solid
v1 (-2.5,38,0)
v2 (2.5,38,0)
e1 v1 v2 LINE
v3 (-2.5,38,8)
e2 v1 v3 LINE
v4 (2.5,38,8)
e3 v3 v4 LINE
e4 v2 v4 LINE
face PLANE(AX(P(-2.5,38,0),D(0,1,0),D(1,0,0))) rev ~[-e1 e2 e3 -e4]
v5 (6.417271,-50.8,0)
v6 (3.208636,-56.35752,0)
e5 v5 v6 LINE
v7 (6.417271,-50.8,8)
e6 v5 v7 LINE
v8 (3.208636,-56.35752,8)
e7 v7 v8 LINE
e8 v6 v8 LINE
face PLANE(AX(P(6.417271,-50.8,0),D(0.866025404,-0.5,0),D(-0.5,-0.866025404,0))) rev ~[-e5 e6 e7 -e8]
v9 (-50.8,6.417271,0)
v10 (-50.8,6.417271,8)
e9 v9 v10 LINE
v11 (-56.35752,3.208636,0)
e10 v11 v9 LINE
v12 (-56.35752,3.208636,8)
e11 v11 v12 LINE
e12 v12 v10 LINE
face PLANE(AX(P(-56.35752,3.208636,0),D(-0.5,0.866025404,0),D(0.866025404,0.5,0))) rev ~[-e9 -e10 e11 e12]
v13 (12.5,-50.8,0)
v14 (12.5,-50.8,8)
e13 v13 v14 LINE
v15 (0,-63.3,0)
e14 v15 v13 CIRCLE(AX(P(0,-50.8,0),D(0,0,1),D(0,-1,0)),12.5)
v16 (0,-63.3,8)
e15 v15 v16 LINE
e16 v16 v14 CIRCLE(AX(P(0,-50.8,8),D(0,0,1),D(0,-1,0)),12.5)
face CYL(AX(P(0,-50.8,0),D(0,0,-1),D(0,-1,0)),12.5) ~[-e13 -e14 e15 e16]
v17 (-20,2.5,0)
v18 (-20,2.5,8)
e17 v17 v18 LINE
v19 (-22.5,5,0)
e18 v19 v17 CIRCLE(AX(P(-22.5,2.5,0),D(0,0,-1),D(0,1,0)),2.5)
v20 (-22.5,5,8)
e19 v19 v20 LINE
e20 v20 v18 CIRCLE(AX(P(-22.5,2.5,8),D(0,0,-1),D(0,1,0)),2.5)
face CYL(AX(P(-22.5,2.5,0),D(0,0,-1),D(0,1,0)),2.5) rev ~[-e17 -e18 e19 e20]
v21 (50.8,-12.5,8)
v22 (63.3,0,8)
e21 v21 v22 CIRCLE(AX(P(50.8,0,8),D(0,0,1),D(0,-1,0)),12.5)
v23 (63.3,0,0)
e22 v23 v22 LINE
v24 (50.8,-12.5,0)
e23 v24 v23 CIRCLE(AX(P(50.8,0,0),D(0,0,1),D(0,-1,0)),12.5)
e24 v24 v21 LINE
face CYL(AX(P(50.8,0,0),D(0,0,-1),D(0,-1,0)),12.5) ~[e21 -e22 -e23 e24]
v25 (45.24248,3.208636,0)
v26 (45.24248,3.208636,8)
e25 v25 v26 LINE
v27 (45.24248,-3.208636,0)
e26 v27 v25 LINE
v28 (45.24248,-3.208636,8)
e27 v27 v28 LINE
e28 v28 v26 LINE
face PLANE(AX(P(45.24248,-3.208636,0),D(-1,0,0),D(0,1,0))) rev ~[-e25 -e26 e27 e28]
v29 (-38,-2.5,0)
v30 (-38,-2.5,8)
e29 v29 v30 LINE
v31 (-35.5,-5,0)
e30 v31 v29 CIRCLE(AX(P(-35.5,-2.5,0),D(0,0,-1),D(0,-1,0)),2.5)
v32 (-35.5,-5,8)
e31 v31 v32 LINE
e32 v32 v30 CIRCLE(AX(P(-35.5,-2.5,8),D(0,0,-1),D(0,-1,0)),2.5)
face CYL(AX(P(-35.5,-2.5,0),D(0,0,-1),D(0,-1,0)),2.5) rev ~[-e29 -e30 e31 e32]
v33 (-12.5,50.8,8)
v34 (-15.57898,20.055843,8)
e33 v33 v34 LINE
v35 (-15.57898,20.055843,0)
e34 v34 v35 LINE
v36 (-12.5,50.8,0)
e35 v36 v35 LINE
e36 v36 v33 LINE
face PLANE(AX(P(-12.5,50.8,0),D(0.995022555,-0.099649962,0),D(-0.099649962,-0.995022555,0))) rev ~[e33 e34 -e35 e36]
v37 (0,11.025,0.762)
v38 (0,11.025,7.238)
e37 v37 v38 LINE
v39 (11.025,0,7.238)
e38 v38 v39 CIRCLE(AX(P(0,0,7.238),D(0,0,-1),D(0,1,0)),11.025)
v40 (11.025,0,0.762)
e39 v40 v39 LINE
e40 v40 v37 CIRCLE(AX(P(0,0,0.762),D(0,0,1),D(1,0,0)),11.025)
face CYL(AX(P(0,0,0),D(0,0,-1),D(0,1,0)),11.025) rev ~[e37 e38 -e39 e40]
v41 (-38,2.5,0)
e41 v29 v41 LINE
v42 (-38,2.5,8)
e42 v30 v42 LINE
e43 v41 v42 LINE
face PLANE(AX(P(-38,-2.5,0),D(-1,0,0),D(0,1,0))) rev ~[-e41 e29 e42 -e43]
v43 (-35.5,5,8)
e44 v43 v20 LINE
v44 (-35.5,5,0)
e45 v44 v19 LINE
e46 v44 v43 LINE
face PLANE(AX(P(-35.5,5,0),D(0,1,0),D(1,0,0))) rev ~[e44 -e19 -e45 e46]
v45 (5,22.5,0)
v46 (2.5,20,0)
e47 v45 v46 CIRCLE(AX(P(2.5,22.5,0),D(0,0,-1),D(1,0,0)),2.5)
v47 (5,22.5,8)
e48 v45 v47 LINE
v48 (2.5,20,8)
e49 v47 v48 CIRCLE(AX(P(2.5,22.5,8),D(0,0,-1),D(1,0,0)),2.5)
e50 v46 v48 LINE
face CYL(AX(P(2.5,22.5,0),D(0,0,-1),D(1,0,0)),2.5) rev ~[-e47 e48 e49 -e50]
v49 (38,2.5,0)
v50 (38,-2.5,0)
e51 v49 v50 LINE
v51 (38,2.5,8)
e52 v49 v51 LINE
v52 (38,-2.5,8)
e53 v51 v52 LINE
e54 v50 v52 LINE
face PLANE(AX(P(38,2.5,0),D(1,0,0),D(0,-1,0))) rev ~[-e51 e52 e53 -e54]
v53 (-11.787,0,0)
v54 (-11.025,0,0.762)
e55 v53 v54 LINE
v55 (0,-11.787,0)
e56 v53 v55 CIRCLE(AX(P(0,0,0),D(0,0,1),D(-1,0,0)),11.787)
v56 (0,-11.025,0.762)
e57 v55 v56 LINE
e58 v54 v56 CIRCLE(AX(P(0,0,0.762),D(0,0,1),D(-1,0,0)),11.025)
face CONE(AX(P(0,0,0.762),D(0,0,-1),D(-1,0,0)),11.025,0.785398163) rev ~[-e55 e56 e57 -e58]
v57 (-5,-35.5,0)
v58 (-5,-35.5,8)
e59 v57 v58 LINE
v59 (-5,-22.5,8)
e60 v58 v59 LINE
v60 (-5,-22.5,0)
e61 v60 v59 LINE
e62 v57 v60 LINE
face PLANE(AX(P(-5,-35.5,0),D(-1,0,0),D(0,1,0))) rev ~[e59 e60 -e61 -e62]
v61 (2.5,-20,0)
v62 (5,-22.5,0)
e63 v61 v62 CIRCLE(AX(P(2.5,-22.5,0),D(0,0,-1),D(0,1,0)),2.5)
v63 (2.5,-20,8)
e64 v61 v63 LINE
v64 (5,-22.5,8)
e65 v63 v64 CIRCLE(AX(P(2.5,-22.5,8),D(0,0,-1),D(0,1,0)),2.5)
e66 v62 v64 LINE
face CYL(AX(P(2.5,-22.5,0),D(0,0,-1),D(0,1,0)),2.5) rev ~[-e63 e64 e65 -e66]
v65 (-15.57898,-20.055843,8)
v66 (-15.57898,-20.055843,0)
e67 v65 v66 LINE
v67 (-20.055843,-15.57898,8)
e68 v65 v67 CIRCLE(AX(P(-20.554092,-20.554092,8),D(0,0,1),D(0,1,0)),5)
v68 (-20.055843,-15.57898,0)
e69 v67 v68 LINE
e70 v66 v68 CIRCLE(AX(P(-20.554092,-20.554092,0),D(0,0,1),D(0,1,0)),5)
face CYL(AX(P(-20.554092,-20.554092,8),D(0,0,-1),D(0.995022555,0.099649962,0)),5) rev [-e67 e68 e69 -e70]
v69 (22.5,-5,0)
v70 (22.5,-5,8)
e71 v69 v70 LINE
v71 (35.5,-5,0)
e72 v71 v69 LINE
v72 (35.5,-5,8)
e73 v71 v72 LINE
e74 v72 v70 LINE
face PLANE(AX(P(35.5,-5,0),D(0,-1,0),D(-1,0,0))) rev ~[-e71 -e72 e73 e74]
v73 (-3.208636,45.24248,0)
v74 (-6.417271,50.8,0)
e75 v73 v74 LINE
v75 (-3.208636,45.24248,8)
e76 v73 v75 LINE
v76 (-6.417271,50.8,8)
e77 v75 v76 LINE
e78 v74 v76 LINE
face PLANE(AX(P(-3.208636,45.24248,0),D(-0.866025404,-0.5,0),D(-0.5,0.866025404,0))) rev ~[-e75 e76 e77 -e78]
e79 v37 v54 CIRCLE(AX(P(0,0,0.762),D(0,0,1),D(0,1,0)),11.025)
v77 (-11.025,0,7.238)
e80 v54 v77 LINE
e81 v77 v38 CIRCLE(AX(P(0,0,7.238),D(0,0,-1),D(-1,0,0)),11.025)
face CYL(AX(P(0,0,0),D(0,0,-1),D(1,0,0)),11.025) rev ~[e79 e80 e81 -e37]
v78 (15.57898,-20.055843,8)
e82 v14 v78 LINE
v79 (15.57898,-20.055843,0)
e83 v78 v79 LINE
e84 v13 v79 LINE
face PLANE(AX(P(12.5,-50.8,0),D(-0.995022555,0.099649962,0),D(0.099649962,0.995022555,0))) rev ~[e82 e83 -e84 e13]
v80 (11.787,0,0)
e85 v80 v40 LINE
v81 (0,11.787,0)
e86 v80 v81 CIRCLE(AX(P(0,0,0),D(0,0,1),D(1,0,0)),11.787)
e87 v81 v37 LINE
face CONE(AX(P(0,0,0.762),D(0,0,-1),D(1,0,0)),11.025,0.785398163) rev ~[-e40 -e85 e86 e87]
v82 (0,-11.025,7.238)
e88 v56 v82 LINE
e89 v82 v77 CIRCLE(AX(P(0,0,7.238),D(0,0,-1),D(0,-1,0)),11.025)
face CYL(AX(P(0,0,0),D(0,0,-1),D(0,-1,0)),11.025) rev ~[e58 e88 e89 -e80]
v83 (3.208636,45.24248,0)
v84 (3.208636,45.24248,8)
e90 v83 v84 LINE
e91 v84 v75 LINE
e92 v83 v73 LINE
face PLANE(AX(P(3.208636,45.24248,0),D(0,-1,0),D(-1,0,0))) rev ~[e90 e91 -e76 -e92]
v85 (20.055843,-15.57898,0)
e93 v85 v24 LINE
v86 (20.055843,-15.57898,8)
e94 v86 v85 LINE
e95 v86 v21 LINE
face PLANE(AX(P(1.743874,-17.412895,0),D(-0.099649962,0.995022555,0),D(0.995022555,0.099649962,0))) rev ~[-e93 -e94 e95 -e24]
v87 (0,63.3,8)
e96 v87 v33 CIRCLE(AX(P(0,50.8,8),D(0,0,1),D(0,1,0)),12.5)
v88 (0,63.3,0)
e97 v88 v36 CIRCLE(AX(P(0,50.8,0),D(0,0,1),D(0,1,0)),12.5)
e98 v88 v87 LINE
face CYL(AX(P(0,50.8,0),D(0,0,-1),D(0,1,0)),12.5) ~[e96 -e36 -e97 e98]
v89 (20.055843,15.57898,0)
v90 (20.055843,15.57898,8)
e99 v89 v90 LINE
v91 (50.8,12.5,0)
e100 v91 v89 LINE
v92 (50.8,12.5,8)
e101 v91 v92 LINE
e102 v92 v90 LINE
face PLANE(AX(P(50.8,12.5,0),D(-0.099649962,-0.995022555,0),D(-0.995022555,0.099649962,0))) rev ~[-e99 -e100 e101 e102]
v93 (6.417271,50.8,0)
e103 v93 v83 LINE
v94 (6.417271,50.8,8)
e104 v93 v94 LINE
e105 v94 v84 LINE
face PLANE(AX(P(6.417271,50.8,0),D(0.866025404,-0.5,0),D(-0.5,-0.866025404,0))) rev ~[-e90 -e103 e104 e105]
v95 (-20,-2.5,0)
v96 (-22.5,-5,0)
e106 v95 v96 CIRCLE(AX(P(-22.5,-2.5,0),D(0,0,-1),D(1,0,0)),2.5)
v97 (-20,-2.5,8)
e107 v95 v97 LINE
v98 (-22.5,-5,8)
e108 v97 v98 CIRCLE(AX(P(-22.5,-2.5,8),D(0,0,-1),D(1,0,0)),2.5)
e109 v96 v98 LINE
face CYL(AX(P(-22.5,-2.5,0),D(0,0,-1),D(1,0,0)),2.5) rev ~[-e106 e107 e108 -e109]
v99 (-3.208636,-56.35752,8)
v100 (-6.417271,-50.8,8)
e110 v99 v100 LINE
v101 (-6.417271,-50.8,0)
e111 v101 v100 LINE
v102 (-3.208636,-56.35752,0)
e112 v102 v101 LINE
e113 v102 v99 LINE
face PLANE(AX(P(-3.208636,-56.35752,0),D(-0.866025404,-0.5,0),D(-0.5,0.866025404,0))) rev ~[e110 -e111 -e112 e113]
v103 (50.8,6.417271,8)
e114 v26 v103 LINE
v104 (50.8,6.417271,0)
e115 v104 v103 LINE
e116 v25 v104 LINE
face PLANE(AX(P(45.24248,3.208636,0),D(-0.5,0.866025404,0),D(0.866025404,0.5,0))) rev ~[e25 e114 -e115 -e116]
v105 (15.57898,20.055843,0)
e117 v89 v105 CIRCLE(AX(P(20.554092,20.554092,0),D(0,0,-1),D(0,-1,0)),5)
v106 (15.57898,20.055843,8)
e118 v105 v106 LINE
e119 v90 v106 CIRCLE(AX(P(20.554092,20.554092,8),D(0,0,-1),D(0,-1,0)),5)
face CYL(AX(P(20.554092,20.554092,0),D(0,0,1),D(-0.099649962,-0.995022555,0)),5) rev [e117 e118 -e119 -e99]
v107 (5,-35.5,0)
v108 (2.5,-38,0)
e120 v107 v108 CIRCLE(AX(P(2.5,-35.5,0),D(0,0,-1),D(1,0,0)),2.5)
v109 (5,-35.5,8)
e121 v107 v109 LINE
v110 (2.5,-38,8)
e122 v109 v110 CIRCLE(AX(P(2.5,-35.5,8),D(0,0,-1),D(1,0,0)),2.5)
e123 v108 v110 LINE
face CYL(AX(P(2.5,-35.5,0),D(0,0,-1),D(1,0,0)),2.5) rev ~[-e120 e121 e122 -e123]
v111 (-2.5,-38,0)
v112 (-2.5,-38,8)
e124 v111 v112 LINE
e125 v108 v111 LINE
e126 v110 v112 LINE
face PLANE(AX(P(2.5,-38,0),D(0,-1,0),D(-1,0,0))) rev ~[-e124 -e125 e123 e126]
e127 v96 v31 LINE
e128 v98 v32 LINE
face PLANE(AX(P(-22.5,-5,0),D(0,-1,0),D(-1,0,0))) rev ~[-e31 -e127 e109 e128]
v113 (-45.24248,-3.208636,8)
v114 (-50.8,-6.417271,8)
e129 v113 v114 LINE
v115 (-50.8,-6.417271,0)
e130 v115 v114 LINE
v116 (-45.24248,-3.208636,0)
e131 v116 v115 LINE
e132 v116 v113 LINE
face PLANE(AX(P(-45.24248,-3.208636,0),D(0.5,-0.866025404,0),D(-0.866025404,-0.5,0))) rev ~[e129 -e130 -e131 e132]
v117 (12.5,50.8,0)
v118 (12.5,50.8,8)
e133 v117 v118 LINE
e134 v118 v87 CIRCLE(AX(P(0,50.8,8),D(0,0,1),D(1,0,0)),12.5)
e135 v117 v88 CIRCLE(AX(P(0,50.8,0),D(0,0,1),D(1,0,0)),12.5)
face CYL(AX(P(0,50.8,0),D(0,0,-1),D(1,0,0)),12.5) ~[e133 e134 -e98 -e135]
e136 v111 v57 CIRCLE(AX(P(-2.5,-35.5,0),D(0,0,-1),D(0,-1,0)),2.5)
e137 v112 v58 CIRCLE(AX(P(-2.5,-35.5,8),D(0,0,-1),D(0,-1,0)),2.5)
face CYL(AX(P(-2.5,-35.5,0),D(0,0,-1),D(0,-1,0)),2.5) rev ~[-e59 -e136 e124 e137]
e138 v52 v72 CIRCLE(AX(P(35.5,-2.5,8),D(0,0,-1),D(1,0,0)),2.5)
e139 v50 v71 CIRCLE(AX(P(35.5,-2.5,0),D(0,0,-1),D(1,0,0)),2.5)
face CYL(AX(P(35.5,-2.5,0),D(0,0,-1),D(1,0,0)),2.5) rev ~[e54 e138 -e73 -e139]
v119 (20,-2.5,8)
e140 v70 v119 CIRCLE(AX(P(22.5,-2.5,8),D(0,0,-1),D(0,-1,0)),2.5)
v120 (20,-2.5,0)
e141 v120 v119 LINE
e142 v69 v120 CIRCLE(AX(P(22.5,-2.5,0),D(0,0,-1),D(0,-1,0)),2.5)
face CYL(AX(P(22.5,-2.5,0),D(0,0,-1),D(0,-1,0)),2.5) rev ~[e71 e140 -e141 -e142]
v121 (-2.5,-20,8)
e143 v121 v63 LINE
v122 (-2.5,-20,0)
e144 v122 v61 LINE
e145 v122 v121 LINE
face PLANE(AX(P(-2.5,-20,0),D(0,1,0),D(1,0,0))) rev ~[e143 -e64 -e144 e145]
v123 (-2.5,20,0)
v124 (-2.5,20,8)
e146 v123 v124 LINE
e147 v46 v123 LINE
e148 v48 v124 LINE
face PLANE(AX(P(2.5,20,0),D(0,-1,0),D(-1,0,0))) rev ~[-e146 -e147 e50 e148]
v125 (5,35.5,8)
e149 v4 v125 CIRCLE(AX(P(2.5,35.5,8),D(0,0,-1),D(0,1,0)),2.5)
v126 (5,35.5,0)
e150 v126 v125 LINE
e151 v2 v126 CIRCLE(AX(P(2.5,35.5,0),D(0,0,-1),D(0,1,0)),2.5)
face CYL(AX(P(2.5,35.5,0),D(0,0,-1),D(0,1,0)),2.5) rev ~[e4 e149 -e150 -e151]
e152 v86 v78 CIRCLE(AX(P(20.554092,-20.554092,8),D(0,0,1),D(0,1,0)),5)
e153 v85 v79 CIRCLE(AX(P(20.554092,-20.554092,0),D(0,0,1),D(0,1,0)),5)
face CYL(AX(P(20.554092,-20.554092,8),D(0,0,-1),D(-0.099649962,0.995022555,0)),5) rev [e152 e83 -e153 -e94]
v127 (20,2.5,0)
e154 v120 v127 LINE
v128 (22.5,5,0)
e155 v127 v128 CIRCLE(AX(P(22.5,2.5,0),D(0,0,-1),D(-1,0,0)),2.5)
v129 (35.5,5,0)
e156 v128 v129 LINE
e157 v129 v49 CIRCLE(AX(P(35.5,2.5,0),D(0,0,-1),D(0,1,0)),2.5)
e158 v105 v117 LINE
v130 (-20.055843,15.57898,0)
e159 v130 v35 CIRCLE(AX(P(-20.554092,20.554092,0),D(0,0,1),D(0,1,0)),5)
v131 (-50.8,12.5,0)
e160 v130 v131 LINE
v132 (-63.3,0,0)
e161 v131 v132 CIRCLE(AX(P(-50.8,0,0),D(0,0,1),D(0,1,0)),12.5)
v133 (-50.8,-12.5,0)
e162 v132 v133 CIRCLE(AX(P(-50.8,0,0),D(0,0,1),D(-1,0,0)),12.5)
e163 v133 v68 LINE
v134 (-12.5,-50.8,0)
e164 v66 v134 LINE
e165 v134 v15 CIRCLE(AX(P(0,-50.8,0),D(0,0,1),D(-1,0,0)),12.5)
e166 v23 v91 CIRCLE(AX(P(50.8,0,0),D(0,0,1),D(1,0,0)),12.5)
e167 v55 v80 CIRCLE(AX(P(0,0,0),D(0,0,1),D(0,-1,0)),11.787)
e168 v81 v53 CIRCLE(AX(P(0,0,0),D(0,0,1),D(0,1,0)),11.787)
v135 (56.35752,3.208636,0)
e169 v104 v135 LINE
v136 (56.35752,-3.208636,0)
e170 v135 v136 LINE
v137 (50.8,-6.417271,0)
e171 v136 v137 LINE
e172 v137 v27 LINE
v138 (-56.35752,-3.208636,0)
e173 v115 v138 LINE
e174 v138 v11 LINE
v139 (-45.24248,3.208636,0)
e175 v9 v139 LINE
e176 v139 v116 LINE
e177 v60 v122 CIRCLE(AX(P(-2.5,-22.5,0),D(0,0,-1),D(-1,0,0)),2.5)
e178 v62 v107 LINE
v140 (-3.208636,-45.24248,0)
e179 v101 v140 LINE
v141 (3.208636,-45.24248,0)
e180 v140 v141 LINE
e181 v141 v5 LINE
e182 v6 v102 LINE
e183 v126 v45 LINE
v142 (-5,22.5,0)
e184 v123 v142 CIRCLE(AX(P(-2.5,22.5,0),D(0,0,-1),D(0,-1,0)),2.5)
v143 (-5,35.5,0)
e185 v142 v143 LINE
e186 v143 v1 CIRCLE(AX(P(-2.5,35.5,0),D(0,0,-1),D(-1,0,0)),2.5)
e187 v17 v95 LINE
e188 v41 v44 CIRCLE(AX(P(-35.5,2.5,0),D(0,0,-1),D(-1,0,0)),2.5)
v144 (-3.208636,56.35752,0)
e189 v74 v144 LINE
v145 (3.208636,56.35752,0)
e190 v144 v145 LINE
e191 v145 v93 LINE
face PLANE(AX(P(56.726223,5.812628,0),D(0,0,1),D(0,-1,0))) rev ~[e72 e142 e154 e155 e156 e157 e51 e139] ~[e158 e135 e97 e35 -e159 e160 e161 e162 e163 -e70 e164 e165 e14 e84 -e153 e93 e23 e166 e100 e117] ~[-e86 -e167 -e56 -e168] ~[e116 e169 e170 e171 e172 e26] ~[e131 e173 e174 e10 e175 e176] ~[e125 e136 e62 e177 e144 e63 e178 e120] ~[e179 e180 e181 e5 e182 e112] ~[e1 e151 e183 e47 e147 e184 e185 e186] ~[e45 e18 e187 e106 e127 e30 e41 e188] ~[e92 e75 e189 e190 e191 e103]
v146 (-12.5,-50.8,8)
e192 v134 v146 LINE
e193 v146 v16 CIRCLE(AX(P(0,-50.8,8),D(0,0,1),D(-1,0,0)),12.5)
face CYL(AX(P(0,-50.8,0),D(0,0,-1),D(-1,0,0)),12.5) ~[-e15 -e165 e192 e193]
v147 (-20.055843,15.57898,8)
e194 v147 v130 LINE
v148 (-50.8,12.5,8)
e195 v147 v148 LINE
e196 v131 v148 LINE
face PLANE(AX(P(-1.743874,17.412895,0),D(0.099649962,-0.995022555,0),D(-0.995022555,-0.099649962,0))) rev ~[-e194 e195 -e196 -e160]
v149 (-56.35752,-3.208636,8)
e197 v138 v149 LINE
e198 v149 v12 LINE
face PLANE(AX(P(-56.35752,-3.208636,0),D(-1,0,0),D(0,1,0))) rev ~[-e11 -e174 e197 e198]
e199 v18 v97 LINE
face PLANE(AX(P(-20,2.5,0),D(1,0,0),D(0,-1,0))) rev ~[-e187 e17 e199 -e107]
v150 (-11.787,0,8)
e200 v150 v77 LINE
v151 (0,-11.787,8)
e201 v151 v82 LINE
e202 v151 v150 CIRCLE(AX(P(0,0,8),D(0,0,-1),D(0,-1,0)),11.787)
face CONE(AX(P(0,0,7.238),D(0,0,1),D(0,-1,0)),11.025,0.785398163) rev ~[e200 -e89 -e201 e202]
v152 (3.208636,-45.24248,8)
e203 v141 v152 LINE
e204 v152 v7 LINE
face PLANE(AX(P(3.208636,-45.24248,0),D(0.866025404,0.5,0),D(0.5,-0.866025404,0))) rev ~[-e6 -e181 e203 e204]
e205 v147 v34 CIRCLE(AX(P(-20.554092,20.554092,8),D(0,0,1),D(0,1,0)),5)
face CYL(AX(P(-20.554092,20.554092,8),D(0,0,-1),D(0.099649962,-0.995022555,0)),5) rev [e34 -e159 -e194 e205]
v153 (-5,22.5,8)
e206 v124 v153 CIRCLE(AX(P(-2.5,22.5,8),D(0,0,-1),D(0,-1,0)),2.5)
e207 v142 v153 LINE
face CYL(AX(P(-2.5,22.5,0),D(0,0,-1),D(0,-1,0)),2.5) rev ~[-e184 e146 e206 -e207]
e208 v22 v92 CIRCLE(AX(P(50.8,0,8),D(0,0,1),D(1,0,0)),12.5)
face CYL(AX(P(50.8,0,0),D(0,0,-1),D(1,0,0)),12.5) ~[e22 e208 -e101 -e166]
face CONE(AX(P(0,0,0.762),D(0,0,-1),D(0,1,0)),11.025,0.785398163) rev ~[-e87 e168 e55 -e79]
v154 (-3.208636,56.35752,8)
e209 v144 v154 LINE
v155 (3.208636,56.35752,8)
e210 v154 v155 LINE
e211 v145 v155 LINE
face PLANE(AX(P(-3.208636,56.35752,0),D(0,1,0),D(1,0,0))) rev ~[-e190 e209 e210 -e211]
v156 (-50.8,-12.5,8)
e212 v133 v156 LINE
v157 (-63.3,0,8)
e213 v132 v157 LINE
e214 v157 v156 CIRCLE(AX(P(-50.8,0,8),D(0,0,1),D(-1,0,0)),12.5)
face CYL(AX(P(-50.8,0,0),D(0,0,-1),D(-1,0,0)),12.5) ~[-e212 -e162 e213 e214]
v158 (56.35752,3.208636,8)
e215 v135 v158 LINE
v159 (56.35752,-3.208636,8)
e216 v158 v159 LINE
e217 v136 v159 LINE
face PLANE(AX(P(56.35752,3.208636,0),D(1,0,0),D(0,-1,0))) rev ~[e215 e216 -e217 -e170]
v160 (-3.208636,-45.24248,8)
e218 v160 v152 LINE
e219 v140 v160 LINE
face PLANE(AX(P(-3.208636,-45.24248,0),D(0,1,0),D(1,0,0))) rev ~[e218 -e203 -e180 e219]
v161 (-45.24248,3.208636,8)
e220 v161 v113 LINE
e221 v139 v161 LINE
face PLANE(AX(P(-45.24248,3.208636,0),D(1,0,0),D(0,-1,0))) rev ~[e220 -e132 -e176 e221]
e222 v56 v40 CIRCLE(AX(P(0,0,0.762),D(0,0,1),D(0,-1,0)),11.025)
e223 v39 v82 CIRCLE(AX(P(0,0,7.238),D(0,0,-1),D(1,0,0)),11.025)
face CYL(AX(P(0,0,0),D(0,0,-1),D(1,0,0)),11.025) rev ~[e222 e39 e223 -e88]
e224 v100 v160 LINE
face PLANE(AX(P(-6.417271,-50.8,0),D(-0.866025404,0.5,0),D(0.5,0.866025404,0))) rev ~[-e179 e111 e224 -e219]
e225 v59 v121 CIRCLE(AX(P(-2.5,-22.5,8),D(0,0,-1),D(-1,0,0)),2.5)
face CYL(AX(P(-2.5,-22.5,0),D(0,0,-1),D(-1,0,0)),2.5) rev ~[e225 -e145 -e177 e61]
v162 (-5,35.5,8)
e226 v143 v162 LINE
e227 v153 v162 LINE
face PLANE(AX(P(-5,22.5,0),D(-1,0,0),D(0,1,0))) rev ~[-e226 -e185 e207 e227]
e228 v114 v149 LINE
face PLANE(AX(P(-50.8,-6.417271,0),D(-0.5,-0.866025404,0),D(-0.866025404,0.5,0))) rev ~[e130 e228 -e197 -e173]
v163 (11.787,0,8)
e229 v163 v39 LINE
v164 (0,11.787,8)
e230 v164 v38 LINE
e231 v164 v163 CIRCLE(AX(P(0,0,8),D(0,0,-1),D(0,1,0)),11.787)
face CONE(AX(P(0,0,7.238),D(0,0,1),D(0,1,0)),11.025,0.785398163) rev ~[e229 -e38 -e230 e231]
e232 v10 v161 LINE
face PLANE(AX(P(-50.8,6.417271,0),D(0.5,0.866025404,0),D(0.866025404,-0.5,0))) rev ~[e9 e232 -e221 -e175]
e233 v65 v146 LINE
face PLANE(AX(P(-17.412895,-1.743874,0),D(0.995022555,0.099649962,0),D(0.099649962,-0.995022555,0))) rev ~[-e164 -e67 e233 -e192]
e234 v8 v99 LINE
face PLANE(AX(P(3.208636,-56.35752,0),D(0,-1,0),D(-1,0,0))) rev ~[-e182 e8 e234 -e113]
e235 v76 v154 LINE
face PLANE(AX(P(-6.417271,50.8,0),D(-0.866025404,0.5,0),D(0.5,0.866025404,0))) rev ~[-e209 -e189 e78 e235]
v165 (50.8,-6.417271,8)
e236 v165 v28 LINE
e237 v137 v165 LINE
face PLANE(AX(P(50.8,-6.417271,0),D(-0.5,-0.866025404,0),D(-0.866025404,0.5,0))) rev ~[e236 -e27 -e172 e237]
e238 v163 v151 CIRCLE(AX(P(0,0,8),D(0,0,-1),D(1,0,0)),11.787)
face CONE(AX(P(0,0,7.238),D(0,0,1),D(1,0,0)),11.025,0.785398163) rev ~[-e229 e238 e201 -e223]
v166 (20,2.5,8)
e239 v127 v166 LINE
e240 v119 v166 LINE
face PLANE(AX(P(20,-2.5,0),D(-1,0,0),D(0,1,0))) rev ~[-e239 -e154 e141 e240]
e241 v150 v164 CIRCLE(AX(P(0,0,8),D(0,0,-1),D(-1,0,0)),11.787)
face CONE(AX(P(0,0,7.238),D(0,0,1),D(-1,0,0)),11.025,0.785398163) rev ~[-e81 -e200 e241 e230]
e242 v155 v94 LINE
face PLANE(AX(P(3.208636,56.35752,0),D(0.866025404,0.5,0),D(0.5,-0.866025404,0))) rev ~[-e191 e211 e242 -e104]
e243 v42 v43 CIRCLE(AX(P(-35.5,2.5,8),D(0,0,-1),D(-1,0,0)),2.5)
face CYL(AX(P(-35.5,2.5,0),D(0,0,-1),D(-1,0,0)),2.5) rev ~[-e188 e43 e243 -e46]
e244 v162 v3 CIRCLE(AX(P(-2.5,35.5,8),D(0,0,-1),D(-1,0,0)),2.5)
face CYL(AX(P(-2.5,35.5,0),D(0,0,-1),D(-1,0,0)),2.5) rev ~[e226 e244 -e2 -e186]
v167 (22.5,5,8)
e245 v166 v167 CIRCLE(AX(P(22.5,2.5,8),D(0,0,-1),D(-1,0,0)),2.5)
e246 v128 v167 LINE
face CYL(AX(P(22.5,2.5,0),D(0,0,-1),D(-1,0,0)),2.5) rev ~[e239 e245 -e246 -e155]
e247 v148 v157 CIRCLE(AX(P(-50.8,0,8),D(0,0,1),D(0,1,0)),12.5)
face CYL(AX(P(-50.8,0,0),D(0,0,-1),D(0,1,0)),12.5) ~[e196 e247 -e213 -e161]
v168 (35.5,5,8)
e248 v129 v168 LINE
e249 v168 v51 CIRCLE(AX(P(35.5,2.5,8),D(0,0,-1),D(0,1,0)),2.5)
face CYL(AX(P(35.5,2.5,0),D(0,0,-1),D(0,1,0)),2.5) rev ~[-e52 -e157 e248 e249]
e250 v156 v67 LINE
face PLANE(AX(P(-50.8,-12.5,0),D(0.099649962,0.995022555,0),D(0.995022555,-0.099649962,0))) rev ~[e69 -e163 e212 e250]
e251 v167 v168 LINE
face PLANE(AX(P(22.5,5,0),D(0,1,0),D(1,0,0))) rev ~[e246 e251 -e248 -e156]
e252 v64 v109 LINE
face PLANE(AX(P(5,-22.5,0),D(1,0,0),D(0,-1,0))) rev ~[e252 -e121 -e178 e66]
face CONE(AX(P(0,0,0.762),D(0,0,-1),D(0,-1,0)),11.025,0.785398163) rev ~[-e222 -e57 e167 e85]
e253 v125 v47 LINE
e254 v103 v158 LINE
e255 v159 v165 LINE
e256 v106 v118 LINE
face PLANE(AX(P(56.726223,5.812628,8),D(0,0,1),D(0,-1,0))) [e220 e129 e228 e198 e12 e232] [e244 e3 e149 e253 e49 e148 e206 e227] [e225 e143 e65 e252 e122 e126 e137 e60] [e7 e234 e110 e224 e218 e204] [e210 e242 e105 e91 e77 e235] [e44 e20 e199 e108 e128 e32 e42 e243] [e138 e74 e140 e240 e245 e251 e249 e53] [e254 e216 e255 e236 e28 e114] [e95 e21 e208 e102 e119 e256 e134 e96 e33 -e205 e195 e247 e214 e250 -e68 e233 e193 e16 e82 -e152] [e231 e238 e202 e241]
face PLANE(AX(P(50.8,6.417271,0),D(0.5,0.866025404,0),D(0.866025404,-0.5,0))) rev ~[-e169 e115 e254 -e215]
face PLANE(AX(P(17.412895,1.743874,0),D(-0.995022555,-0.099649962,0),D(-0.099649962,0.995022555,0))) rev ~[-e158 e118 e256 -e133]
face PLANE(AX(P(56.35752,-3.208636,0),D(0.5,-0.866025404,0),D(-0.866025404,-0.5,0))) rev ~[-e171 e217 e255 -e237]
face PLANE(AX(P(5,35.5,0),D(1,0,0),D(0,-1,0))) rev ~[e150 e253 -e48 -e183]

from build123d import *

# Parameters (mm, degrees)
F1_DEPTH = 8
F3_COUNT = 4
F4_R     = 5
F5_SIZE  = 0.762


with BuildPart() as f1:
    # F0 (on Top) → F1 (new body)
    with BuildSketch(Plane.XY):
        with BuildLine():
            ThreePointArc((0, 63.3), (-8.8388347648, 59.6388347648), (-12.5, 50.8))
            Line((-12.5, 50.8), (-6.4172713361, 50.8))
            Line((-6.4172713361, 50.8), (-3.208635668, 56.35752))
            Line((-3.208635668, 56.35752), (0, 56.35752))
            Line((0, 56.35752), (0, 63.3))
        make_face()
        with BuildLine():
            Line((6.4172713361, 50.8), (12.5, 50.8))
            ThreePointArc((12.5, 50.8), (8.8388347648, 59.6388347648), (0, 63.3))
            Line((0, 63.3), (0, 56.35752))
            Line((0, 56.35752), (3.208635668, 56.35752))
            Line((3.208635668, 56.35752), (6.4172713361, 50.8))
        make_face()
        with BuildLine():
            ThreePointArc((0, 38.3), (8.8388347648, 41.9611652352), (12.5, 50.8))
            Line((12.5, 50.8), (6.4172713361, 50.8))
            Line((6.4172713361, 50.8), (3.208635668, 45.24248))
            Line((3.208635668, 45.24248), (0, 45.24248))
            Line((0, 45.24248), (0, 38.3))
        make_face()
        with BuildLine():
            Line((-6.4172713361, 50.8), (-12.5, 50.8))
            ThreePointArc((-12.5, 50.8), (-8.8388347648, 41.9611652352), (0, 38.3))
            Line((0, 38.3), (0, 45.24248))
            Line((0, 45.24248), (-3.208635668, 45.24248))
            Line((-3.208635668, 45.24248), (-6.4172713361, 50.8))
        make_face()
        with BuildLine():
            ThreePointArc((-17.4128947138, 1.7438743322), (-11.7416395615, 12.9762822259), (0, 17.5))
            Line((0, 17.5), (0, 20))
            Line((0, 20), (-2.5, 20))
            ThreePointArc((-2.5, 20), (-4.267766953, 20.732233047), (-5, 22.5))
            Line((-5, 22.5), (-5, 35.5))
            ThreePointArc((-5, 35.5), (-4.267766953, 37.267766953), (-2.5, 38))
            Line((-2.5, 38), (0, 38))
            Line((0, 38), (0, 38.3))
            ThreePointArc((0, 38.3), (-8.8388347648, 41.9611652352), (-12.5, 50.8))
            Line((-12.5, 50.8), (-17.4128947138, 1.7438743322))
        make_face()
        with BuildLine():
            Line((0, 20), (0, 17.5))
            ThreePointArc((0, 17.5), (11.7416395615, 12.9762822259), (17.4128947138, 1.7438743322))
            Line((17.4128947138, 1.7438743322), (12.5, 50.8))
            ThreePointArc((12.5, 50.8), (8.8388347648, 41.9611652352), (0, 38.3))
            Line((0, 38.3), (0, 38))
            Line((0, 38), (2.5, 38))
            ThreePointArc((2.5, 38), (4.267766953, 37.267766953), (5, 35.5))
            Line((5, 35.5), (5, 22.5))
            ThreePointArc((5, 22.5), (4.267766953, 20.732233047), (2.5, 20))
            Line((2.5, 20), (0, 20))
        make_face()
        with BuildLine():
            ThreePointArc((17.4128947138, 1.7438743322), (11.7416395615, 12.9762822259), (0, 17.5))
            ThreePointArc((0, 17.5), (-11.7416395615, 12.9762822259), (-17.4128947138, 1.7438743322))
            ThreePointArc((-17.4128947138, 1.7438743322), (-0.8730242003, -17.4782101128), (17.5, 0))
            ThreePointArc((17.5, 0), (17.4782101128, 0.8730242003), (17.4128947138, 1.7438743322))
        make_face()
        with BuildLine():
            ThreePointArc((0, 11.025), (7.7958522626, 7.7958522626), (11.025, 0))
            ThreePointArc((11.025, 0), (-7.7958522626, -7.7958522626), (0, 11.025))
        make_face(mode=Mode.SUBTRACT)
    extrude(amount=F1_DEPTH)

    # F3: F1 ×4 about axis
    f3_axis = Axis((0, 0, 24.1194125265), (0, 0, 1))


with BuildPart() as f1_1:
    add(f1.part)
    for i in range(1, F3_COUNT):
        add(f1.part.rotate(f3_axis, i * 360 / F3_COUNT))

    # F4
    f4_edges = [f1_1.edges().sort_by_distance(p)[0] for p in [
        (15.986516, 15.986516, 4),
        (-15.986516, 15.986516, 4),
        (-15.986516, -15.986516, 4),
        (15.986516, -15.986516, 4),
    ]]
    fillet(f4_edges, radius=F4_R)

    # F5
    f5_edges = [f1_1.edges().sort_by_distance(p)[0] for p in [
        (0, -11.025, 8),
        (0, -11.025, 0),
    ]]
    chamfer(f5_edges, length=F5_SIZE)


solid = f1_1.part
